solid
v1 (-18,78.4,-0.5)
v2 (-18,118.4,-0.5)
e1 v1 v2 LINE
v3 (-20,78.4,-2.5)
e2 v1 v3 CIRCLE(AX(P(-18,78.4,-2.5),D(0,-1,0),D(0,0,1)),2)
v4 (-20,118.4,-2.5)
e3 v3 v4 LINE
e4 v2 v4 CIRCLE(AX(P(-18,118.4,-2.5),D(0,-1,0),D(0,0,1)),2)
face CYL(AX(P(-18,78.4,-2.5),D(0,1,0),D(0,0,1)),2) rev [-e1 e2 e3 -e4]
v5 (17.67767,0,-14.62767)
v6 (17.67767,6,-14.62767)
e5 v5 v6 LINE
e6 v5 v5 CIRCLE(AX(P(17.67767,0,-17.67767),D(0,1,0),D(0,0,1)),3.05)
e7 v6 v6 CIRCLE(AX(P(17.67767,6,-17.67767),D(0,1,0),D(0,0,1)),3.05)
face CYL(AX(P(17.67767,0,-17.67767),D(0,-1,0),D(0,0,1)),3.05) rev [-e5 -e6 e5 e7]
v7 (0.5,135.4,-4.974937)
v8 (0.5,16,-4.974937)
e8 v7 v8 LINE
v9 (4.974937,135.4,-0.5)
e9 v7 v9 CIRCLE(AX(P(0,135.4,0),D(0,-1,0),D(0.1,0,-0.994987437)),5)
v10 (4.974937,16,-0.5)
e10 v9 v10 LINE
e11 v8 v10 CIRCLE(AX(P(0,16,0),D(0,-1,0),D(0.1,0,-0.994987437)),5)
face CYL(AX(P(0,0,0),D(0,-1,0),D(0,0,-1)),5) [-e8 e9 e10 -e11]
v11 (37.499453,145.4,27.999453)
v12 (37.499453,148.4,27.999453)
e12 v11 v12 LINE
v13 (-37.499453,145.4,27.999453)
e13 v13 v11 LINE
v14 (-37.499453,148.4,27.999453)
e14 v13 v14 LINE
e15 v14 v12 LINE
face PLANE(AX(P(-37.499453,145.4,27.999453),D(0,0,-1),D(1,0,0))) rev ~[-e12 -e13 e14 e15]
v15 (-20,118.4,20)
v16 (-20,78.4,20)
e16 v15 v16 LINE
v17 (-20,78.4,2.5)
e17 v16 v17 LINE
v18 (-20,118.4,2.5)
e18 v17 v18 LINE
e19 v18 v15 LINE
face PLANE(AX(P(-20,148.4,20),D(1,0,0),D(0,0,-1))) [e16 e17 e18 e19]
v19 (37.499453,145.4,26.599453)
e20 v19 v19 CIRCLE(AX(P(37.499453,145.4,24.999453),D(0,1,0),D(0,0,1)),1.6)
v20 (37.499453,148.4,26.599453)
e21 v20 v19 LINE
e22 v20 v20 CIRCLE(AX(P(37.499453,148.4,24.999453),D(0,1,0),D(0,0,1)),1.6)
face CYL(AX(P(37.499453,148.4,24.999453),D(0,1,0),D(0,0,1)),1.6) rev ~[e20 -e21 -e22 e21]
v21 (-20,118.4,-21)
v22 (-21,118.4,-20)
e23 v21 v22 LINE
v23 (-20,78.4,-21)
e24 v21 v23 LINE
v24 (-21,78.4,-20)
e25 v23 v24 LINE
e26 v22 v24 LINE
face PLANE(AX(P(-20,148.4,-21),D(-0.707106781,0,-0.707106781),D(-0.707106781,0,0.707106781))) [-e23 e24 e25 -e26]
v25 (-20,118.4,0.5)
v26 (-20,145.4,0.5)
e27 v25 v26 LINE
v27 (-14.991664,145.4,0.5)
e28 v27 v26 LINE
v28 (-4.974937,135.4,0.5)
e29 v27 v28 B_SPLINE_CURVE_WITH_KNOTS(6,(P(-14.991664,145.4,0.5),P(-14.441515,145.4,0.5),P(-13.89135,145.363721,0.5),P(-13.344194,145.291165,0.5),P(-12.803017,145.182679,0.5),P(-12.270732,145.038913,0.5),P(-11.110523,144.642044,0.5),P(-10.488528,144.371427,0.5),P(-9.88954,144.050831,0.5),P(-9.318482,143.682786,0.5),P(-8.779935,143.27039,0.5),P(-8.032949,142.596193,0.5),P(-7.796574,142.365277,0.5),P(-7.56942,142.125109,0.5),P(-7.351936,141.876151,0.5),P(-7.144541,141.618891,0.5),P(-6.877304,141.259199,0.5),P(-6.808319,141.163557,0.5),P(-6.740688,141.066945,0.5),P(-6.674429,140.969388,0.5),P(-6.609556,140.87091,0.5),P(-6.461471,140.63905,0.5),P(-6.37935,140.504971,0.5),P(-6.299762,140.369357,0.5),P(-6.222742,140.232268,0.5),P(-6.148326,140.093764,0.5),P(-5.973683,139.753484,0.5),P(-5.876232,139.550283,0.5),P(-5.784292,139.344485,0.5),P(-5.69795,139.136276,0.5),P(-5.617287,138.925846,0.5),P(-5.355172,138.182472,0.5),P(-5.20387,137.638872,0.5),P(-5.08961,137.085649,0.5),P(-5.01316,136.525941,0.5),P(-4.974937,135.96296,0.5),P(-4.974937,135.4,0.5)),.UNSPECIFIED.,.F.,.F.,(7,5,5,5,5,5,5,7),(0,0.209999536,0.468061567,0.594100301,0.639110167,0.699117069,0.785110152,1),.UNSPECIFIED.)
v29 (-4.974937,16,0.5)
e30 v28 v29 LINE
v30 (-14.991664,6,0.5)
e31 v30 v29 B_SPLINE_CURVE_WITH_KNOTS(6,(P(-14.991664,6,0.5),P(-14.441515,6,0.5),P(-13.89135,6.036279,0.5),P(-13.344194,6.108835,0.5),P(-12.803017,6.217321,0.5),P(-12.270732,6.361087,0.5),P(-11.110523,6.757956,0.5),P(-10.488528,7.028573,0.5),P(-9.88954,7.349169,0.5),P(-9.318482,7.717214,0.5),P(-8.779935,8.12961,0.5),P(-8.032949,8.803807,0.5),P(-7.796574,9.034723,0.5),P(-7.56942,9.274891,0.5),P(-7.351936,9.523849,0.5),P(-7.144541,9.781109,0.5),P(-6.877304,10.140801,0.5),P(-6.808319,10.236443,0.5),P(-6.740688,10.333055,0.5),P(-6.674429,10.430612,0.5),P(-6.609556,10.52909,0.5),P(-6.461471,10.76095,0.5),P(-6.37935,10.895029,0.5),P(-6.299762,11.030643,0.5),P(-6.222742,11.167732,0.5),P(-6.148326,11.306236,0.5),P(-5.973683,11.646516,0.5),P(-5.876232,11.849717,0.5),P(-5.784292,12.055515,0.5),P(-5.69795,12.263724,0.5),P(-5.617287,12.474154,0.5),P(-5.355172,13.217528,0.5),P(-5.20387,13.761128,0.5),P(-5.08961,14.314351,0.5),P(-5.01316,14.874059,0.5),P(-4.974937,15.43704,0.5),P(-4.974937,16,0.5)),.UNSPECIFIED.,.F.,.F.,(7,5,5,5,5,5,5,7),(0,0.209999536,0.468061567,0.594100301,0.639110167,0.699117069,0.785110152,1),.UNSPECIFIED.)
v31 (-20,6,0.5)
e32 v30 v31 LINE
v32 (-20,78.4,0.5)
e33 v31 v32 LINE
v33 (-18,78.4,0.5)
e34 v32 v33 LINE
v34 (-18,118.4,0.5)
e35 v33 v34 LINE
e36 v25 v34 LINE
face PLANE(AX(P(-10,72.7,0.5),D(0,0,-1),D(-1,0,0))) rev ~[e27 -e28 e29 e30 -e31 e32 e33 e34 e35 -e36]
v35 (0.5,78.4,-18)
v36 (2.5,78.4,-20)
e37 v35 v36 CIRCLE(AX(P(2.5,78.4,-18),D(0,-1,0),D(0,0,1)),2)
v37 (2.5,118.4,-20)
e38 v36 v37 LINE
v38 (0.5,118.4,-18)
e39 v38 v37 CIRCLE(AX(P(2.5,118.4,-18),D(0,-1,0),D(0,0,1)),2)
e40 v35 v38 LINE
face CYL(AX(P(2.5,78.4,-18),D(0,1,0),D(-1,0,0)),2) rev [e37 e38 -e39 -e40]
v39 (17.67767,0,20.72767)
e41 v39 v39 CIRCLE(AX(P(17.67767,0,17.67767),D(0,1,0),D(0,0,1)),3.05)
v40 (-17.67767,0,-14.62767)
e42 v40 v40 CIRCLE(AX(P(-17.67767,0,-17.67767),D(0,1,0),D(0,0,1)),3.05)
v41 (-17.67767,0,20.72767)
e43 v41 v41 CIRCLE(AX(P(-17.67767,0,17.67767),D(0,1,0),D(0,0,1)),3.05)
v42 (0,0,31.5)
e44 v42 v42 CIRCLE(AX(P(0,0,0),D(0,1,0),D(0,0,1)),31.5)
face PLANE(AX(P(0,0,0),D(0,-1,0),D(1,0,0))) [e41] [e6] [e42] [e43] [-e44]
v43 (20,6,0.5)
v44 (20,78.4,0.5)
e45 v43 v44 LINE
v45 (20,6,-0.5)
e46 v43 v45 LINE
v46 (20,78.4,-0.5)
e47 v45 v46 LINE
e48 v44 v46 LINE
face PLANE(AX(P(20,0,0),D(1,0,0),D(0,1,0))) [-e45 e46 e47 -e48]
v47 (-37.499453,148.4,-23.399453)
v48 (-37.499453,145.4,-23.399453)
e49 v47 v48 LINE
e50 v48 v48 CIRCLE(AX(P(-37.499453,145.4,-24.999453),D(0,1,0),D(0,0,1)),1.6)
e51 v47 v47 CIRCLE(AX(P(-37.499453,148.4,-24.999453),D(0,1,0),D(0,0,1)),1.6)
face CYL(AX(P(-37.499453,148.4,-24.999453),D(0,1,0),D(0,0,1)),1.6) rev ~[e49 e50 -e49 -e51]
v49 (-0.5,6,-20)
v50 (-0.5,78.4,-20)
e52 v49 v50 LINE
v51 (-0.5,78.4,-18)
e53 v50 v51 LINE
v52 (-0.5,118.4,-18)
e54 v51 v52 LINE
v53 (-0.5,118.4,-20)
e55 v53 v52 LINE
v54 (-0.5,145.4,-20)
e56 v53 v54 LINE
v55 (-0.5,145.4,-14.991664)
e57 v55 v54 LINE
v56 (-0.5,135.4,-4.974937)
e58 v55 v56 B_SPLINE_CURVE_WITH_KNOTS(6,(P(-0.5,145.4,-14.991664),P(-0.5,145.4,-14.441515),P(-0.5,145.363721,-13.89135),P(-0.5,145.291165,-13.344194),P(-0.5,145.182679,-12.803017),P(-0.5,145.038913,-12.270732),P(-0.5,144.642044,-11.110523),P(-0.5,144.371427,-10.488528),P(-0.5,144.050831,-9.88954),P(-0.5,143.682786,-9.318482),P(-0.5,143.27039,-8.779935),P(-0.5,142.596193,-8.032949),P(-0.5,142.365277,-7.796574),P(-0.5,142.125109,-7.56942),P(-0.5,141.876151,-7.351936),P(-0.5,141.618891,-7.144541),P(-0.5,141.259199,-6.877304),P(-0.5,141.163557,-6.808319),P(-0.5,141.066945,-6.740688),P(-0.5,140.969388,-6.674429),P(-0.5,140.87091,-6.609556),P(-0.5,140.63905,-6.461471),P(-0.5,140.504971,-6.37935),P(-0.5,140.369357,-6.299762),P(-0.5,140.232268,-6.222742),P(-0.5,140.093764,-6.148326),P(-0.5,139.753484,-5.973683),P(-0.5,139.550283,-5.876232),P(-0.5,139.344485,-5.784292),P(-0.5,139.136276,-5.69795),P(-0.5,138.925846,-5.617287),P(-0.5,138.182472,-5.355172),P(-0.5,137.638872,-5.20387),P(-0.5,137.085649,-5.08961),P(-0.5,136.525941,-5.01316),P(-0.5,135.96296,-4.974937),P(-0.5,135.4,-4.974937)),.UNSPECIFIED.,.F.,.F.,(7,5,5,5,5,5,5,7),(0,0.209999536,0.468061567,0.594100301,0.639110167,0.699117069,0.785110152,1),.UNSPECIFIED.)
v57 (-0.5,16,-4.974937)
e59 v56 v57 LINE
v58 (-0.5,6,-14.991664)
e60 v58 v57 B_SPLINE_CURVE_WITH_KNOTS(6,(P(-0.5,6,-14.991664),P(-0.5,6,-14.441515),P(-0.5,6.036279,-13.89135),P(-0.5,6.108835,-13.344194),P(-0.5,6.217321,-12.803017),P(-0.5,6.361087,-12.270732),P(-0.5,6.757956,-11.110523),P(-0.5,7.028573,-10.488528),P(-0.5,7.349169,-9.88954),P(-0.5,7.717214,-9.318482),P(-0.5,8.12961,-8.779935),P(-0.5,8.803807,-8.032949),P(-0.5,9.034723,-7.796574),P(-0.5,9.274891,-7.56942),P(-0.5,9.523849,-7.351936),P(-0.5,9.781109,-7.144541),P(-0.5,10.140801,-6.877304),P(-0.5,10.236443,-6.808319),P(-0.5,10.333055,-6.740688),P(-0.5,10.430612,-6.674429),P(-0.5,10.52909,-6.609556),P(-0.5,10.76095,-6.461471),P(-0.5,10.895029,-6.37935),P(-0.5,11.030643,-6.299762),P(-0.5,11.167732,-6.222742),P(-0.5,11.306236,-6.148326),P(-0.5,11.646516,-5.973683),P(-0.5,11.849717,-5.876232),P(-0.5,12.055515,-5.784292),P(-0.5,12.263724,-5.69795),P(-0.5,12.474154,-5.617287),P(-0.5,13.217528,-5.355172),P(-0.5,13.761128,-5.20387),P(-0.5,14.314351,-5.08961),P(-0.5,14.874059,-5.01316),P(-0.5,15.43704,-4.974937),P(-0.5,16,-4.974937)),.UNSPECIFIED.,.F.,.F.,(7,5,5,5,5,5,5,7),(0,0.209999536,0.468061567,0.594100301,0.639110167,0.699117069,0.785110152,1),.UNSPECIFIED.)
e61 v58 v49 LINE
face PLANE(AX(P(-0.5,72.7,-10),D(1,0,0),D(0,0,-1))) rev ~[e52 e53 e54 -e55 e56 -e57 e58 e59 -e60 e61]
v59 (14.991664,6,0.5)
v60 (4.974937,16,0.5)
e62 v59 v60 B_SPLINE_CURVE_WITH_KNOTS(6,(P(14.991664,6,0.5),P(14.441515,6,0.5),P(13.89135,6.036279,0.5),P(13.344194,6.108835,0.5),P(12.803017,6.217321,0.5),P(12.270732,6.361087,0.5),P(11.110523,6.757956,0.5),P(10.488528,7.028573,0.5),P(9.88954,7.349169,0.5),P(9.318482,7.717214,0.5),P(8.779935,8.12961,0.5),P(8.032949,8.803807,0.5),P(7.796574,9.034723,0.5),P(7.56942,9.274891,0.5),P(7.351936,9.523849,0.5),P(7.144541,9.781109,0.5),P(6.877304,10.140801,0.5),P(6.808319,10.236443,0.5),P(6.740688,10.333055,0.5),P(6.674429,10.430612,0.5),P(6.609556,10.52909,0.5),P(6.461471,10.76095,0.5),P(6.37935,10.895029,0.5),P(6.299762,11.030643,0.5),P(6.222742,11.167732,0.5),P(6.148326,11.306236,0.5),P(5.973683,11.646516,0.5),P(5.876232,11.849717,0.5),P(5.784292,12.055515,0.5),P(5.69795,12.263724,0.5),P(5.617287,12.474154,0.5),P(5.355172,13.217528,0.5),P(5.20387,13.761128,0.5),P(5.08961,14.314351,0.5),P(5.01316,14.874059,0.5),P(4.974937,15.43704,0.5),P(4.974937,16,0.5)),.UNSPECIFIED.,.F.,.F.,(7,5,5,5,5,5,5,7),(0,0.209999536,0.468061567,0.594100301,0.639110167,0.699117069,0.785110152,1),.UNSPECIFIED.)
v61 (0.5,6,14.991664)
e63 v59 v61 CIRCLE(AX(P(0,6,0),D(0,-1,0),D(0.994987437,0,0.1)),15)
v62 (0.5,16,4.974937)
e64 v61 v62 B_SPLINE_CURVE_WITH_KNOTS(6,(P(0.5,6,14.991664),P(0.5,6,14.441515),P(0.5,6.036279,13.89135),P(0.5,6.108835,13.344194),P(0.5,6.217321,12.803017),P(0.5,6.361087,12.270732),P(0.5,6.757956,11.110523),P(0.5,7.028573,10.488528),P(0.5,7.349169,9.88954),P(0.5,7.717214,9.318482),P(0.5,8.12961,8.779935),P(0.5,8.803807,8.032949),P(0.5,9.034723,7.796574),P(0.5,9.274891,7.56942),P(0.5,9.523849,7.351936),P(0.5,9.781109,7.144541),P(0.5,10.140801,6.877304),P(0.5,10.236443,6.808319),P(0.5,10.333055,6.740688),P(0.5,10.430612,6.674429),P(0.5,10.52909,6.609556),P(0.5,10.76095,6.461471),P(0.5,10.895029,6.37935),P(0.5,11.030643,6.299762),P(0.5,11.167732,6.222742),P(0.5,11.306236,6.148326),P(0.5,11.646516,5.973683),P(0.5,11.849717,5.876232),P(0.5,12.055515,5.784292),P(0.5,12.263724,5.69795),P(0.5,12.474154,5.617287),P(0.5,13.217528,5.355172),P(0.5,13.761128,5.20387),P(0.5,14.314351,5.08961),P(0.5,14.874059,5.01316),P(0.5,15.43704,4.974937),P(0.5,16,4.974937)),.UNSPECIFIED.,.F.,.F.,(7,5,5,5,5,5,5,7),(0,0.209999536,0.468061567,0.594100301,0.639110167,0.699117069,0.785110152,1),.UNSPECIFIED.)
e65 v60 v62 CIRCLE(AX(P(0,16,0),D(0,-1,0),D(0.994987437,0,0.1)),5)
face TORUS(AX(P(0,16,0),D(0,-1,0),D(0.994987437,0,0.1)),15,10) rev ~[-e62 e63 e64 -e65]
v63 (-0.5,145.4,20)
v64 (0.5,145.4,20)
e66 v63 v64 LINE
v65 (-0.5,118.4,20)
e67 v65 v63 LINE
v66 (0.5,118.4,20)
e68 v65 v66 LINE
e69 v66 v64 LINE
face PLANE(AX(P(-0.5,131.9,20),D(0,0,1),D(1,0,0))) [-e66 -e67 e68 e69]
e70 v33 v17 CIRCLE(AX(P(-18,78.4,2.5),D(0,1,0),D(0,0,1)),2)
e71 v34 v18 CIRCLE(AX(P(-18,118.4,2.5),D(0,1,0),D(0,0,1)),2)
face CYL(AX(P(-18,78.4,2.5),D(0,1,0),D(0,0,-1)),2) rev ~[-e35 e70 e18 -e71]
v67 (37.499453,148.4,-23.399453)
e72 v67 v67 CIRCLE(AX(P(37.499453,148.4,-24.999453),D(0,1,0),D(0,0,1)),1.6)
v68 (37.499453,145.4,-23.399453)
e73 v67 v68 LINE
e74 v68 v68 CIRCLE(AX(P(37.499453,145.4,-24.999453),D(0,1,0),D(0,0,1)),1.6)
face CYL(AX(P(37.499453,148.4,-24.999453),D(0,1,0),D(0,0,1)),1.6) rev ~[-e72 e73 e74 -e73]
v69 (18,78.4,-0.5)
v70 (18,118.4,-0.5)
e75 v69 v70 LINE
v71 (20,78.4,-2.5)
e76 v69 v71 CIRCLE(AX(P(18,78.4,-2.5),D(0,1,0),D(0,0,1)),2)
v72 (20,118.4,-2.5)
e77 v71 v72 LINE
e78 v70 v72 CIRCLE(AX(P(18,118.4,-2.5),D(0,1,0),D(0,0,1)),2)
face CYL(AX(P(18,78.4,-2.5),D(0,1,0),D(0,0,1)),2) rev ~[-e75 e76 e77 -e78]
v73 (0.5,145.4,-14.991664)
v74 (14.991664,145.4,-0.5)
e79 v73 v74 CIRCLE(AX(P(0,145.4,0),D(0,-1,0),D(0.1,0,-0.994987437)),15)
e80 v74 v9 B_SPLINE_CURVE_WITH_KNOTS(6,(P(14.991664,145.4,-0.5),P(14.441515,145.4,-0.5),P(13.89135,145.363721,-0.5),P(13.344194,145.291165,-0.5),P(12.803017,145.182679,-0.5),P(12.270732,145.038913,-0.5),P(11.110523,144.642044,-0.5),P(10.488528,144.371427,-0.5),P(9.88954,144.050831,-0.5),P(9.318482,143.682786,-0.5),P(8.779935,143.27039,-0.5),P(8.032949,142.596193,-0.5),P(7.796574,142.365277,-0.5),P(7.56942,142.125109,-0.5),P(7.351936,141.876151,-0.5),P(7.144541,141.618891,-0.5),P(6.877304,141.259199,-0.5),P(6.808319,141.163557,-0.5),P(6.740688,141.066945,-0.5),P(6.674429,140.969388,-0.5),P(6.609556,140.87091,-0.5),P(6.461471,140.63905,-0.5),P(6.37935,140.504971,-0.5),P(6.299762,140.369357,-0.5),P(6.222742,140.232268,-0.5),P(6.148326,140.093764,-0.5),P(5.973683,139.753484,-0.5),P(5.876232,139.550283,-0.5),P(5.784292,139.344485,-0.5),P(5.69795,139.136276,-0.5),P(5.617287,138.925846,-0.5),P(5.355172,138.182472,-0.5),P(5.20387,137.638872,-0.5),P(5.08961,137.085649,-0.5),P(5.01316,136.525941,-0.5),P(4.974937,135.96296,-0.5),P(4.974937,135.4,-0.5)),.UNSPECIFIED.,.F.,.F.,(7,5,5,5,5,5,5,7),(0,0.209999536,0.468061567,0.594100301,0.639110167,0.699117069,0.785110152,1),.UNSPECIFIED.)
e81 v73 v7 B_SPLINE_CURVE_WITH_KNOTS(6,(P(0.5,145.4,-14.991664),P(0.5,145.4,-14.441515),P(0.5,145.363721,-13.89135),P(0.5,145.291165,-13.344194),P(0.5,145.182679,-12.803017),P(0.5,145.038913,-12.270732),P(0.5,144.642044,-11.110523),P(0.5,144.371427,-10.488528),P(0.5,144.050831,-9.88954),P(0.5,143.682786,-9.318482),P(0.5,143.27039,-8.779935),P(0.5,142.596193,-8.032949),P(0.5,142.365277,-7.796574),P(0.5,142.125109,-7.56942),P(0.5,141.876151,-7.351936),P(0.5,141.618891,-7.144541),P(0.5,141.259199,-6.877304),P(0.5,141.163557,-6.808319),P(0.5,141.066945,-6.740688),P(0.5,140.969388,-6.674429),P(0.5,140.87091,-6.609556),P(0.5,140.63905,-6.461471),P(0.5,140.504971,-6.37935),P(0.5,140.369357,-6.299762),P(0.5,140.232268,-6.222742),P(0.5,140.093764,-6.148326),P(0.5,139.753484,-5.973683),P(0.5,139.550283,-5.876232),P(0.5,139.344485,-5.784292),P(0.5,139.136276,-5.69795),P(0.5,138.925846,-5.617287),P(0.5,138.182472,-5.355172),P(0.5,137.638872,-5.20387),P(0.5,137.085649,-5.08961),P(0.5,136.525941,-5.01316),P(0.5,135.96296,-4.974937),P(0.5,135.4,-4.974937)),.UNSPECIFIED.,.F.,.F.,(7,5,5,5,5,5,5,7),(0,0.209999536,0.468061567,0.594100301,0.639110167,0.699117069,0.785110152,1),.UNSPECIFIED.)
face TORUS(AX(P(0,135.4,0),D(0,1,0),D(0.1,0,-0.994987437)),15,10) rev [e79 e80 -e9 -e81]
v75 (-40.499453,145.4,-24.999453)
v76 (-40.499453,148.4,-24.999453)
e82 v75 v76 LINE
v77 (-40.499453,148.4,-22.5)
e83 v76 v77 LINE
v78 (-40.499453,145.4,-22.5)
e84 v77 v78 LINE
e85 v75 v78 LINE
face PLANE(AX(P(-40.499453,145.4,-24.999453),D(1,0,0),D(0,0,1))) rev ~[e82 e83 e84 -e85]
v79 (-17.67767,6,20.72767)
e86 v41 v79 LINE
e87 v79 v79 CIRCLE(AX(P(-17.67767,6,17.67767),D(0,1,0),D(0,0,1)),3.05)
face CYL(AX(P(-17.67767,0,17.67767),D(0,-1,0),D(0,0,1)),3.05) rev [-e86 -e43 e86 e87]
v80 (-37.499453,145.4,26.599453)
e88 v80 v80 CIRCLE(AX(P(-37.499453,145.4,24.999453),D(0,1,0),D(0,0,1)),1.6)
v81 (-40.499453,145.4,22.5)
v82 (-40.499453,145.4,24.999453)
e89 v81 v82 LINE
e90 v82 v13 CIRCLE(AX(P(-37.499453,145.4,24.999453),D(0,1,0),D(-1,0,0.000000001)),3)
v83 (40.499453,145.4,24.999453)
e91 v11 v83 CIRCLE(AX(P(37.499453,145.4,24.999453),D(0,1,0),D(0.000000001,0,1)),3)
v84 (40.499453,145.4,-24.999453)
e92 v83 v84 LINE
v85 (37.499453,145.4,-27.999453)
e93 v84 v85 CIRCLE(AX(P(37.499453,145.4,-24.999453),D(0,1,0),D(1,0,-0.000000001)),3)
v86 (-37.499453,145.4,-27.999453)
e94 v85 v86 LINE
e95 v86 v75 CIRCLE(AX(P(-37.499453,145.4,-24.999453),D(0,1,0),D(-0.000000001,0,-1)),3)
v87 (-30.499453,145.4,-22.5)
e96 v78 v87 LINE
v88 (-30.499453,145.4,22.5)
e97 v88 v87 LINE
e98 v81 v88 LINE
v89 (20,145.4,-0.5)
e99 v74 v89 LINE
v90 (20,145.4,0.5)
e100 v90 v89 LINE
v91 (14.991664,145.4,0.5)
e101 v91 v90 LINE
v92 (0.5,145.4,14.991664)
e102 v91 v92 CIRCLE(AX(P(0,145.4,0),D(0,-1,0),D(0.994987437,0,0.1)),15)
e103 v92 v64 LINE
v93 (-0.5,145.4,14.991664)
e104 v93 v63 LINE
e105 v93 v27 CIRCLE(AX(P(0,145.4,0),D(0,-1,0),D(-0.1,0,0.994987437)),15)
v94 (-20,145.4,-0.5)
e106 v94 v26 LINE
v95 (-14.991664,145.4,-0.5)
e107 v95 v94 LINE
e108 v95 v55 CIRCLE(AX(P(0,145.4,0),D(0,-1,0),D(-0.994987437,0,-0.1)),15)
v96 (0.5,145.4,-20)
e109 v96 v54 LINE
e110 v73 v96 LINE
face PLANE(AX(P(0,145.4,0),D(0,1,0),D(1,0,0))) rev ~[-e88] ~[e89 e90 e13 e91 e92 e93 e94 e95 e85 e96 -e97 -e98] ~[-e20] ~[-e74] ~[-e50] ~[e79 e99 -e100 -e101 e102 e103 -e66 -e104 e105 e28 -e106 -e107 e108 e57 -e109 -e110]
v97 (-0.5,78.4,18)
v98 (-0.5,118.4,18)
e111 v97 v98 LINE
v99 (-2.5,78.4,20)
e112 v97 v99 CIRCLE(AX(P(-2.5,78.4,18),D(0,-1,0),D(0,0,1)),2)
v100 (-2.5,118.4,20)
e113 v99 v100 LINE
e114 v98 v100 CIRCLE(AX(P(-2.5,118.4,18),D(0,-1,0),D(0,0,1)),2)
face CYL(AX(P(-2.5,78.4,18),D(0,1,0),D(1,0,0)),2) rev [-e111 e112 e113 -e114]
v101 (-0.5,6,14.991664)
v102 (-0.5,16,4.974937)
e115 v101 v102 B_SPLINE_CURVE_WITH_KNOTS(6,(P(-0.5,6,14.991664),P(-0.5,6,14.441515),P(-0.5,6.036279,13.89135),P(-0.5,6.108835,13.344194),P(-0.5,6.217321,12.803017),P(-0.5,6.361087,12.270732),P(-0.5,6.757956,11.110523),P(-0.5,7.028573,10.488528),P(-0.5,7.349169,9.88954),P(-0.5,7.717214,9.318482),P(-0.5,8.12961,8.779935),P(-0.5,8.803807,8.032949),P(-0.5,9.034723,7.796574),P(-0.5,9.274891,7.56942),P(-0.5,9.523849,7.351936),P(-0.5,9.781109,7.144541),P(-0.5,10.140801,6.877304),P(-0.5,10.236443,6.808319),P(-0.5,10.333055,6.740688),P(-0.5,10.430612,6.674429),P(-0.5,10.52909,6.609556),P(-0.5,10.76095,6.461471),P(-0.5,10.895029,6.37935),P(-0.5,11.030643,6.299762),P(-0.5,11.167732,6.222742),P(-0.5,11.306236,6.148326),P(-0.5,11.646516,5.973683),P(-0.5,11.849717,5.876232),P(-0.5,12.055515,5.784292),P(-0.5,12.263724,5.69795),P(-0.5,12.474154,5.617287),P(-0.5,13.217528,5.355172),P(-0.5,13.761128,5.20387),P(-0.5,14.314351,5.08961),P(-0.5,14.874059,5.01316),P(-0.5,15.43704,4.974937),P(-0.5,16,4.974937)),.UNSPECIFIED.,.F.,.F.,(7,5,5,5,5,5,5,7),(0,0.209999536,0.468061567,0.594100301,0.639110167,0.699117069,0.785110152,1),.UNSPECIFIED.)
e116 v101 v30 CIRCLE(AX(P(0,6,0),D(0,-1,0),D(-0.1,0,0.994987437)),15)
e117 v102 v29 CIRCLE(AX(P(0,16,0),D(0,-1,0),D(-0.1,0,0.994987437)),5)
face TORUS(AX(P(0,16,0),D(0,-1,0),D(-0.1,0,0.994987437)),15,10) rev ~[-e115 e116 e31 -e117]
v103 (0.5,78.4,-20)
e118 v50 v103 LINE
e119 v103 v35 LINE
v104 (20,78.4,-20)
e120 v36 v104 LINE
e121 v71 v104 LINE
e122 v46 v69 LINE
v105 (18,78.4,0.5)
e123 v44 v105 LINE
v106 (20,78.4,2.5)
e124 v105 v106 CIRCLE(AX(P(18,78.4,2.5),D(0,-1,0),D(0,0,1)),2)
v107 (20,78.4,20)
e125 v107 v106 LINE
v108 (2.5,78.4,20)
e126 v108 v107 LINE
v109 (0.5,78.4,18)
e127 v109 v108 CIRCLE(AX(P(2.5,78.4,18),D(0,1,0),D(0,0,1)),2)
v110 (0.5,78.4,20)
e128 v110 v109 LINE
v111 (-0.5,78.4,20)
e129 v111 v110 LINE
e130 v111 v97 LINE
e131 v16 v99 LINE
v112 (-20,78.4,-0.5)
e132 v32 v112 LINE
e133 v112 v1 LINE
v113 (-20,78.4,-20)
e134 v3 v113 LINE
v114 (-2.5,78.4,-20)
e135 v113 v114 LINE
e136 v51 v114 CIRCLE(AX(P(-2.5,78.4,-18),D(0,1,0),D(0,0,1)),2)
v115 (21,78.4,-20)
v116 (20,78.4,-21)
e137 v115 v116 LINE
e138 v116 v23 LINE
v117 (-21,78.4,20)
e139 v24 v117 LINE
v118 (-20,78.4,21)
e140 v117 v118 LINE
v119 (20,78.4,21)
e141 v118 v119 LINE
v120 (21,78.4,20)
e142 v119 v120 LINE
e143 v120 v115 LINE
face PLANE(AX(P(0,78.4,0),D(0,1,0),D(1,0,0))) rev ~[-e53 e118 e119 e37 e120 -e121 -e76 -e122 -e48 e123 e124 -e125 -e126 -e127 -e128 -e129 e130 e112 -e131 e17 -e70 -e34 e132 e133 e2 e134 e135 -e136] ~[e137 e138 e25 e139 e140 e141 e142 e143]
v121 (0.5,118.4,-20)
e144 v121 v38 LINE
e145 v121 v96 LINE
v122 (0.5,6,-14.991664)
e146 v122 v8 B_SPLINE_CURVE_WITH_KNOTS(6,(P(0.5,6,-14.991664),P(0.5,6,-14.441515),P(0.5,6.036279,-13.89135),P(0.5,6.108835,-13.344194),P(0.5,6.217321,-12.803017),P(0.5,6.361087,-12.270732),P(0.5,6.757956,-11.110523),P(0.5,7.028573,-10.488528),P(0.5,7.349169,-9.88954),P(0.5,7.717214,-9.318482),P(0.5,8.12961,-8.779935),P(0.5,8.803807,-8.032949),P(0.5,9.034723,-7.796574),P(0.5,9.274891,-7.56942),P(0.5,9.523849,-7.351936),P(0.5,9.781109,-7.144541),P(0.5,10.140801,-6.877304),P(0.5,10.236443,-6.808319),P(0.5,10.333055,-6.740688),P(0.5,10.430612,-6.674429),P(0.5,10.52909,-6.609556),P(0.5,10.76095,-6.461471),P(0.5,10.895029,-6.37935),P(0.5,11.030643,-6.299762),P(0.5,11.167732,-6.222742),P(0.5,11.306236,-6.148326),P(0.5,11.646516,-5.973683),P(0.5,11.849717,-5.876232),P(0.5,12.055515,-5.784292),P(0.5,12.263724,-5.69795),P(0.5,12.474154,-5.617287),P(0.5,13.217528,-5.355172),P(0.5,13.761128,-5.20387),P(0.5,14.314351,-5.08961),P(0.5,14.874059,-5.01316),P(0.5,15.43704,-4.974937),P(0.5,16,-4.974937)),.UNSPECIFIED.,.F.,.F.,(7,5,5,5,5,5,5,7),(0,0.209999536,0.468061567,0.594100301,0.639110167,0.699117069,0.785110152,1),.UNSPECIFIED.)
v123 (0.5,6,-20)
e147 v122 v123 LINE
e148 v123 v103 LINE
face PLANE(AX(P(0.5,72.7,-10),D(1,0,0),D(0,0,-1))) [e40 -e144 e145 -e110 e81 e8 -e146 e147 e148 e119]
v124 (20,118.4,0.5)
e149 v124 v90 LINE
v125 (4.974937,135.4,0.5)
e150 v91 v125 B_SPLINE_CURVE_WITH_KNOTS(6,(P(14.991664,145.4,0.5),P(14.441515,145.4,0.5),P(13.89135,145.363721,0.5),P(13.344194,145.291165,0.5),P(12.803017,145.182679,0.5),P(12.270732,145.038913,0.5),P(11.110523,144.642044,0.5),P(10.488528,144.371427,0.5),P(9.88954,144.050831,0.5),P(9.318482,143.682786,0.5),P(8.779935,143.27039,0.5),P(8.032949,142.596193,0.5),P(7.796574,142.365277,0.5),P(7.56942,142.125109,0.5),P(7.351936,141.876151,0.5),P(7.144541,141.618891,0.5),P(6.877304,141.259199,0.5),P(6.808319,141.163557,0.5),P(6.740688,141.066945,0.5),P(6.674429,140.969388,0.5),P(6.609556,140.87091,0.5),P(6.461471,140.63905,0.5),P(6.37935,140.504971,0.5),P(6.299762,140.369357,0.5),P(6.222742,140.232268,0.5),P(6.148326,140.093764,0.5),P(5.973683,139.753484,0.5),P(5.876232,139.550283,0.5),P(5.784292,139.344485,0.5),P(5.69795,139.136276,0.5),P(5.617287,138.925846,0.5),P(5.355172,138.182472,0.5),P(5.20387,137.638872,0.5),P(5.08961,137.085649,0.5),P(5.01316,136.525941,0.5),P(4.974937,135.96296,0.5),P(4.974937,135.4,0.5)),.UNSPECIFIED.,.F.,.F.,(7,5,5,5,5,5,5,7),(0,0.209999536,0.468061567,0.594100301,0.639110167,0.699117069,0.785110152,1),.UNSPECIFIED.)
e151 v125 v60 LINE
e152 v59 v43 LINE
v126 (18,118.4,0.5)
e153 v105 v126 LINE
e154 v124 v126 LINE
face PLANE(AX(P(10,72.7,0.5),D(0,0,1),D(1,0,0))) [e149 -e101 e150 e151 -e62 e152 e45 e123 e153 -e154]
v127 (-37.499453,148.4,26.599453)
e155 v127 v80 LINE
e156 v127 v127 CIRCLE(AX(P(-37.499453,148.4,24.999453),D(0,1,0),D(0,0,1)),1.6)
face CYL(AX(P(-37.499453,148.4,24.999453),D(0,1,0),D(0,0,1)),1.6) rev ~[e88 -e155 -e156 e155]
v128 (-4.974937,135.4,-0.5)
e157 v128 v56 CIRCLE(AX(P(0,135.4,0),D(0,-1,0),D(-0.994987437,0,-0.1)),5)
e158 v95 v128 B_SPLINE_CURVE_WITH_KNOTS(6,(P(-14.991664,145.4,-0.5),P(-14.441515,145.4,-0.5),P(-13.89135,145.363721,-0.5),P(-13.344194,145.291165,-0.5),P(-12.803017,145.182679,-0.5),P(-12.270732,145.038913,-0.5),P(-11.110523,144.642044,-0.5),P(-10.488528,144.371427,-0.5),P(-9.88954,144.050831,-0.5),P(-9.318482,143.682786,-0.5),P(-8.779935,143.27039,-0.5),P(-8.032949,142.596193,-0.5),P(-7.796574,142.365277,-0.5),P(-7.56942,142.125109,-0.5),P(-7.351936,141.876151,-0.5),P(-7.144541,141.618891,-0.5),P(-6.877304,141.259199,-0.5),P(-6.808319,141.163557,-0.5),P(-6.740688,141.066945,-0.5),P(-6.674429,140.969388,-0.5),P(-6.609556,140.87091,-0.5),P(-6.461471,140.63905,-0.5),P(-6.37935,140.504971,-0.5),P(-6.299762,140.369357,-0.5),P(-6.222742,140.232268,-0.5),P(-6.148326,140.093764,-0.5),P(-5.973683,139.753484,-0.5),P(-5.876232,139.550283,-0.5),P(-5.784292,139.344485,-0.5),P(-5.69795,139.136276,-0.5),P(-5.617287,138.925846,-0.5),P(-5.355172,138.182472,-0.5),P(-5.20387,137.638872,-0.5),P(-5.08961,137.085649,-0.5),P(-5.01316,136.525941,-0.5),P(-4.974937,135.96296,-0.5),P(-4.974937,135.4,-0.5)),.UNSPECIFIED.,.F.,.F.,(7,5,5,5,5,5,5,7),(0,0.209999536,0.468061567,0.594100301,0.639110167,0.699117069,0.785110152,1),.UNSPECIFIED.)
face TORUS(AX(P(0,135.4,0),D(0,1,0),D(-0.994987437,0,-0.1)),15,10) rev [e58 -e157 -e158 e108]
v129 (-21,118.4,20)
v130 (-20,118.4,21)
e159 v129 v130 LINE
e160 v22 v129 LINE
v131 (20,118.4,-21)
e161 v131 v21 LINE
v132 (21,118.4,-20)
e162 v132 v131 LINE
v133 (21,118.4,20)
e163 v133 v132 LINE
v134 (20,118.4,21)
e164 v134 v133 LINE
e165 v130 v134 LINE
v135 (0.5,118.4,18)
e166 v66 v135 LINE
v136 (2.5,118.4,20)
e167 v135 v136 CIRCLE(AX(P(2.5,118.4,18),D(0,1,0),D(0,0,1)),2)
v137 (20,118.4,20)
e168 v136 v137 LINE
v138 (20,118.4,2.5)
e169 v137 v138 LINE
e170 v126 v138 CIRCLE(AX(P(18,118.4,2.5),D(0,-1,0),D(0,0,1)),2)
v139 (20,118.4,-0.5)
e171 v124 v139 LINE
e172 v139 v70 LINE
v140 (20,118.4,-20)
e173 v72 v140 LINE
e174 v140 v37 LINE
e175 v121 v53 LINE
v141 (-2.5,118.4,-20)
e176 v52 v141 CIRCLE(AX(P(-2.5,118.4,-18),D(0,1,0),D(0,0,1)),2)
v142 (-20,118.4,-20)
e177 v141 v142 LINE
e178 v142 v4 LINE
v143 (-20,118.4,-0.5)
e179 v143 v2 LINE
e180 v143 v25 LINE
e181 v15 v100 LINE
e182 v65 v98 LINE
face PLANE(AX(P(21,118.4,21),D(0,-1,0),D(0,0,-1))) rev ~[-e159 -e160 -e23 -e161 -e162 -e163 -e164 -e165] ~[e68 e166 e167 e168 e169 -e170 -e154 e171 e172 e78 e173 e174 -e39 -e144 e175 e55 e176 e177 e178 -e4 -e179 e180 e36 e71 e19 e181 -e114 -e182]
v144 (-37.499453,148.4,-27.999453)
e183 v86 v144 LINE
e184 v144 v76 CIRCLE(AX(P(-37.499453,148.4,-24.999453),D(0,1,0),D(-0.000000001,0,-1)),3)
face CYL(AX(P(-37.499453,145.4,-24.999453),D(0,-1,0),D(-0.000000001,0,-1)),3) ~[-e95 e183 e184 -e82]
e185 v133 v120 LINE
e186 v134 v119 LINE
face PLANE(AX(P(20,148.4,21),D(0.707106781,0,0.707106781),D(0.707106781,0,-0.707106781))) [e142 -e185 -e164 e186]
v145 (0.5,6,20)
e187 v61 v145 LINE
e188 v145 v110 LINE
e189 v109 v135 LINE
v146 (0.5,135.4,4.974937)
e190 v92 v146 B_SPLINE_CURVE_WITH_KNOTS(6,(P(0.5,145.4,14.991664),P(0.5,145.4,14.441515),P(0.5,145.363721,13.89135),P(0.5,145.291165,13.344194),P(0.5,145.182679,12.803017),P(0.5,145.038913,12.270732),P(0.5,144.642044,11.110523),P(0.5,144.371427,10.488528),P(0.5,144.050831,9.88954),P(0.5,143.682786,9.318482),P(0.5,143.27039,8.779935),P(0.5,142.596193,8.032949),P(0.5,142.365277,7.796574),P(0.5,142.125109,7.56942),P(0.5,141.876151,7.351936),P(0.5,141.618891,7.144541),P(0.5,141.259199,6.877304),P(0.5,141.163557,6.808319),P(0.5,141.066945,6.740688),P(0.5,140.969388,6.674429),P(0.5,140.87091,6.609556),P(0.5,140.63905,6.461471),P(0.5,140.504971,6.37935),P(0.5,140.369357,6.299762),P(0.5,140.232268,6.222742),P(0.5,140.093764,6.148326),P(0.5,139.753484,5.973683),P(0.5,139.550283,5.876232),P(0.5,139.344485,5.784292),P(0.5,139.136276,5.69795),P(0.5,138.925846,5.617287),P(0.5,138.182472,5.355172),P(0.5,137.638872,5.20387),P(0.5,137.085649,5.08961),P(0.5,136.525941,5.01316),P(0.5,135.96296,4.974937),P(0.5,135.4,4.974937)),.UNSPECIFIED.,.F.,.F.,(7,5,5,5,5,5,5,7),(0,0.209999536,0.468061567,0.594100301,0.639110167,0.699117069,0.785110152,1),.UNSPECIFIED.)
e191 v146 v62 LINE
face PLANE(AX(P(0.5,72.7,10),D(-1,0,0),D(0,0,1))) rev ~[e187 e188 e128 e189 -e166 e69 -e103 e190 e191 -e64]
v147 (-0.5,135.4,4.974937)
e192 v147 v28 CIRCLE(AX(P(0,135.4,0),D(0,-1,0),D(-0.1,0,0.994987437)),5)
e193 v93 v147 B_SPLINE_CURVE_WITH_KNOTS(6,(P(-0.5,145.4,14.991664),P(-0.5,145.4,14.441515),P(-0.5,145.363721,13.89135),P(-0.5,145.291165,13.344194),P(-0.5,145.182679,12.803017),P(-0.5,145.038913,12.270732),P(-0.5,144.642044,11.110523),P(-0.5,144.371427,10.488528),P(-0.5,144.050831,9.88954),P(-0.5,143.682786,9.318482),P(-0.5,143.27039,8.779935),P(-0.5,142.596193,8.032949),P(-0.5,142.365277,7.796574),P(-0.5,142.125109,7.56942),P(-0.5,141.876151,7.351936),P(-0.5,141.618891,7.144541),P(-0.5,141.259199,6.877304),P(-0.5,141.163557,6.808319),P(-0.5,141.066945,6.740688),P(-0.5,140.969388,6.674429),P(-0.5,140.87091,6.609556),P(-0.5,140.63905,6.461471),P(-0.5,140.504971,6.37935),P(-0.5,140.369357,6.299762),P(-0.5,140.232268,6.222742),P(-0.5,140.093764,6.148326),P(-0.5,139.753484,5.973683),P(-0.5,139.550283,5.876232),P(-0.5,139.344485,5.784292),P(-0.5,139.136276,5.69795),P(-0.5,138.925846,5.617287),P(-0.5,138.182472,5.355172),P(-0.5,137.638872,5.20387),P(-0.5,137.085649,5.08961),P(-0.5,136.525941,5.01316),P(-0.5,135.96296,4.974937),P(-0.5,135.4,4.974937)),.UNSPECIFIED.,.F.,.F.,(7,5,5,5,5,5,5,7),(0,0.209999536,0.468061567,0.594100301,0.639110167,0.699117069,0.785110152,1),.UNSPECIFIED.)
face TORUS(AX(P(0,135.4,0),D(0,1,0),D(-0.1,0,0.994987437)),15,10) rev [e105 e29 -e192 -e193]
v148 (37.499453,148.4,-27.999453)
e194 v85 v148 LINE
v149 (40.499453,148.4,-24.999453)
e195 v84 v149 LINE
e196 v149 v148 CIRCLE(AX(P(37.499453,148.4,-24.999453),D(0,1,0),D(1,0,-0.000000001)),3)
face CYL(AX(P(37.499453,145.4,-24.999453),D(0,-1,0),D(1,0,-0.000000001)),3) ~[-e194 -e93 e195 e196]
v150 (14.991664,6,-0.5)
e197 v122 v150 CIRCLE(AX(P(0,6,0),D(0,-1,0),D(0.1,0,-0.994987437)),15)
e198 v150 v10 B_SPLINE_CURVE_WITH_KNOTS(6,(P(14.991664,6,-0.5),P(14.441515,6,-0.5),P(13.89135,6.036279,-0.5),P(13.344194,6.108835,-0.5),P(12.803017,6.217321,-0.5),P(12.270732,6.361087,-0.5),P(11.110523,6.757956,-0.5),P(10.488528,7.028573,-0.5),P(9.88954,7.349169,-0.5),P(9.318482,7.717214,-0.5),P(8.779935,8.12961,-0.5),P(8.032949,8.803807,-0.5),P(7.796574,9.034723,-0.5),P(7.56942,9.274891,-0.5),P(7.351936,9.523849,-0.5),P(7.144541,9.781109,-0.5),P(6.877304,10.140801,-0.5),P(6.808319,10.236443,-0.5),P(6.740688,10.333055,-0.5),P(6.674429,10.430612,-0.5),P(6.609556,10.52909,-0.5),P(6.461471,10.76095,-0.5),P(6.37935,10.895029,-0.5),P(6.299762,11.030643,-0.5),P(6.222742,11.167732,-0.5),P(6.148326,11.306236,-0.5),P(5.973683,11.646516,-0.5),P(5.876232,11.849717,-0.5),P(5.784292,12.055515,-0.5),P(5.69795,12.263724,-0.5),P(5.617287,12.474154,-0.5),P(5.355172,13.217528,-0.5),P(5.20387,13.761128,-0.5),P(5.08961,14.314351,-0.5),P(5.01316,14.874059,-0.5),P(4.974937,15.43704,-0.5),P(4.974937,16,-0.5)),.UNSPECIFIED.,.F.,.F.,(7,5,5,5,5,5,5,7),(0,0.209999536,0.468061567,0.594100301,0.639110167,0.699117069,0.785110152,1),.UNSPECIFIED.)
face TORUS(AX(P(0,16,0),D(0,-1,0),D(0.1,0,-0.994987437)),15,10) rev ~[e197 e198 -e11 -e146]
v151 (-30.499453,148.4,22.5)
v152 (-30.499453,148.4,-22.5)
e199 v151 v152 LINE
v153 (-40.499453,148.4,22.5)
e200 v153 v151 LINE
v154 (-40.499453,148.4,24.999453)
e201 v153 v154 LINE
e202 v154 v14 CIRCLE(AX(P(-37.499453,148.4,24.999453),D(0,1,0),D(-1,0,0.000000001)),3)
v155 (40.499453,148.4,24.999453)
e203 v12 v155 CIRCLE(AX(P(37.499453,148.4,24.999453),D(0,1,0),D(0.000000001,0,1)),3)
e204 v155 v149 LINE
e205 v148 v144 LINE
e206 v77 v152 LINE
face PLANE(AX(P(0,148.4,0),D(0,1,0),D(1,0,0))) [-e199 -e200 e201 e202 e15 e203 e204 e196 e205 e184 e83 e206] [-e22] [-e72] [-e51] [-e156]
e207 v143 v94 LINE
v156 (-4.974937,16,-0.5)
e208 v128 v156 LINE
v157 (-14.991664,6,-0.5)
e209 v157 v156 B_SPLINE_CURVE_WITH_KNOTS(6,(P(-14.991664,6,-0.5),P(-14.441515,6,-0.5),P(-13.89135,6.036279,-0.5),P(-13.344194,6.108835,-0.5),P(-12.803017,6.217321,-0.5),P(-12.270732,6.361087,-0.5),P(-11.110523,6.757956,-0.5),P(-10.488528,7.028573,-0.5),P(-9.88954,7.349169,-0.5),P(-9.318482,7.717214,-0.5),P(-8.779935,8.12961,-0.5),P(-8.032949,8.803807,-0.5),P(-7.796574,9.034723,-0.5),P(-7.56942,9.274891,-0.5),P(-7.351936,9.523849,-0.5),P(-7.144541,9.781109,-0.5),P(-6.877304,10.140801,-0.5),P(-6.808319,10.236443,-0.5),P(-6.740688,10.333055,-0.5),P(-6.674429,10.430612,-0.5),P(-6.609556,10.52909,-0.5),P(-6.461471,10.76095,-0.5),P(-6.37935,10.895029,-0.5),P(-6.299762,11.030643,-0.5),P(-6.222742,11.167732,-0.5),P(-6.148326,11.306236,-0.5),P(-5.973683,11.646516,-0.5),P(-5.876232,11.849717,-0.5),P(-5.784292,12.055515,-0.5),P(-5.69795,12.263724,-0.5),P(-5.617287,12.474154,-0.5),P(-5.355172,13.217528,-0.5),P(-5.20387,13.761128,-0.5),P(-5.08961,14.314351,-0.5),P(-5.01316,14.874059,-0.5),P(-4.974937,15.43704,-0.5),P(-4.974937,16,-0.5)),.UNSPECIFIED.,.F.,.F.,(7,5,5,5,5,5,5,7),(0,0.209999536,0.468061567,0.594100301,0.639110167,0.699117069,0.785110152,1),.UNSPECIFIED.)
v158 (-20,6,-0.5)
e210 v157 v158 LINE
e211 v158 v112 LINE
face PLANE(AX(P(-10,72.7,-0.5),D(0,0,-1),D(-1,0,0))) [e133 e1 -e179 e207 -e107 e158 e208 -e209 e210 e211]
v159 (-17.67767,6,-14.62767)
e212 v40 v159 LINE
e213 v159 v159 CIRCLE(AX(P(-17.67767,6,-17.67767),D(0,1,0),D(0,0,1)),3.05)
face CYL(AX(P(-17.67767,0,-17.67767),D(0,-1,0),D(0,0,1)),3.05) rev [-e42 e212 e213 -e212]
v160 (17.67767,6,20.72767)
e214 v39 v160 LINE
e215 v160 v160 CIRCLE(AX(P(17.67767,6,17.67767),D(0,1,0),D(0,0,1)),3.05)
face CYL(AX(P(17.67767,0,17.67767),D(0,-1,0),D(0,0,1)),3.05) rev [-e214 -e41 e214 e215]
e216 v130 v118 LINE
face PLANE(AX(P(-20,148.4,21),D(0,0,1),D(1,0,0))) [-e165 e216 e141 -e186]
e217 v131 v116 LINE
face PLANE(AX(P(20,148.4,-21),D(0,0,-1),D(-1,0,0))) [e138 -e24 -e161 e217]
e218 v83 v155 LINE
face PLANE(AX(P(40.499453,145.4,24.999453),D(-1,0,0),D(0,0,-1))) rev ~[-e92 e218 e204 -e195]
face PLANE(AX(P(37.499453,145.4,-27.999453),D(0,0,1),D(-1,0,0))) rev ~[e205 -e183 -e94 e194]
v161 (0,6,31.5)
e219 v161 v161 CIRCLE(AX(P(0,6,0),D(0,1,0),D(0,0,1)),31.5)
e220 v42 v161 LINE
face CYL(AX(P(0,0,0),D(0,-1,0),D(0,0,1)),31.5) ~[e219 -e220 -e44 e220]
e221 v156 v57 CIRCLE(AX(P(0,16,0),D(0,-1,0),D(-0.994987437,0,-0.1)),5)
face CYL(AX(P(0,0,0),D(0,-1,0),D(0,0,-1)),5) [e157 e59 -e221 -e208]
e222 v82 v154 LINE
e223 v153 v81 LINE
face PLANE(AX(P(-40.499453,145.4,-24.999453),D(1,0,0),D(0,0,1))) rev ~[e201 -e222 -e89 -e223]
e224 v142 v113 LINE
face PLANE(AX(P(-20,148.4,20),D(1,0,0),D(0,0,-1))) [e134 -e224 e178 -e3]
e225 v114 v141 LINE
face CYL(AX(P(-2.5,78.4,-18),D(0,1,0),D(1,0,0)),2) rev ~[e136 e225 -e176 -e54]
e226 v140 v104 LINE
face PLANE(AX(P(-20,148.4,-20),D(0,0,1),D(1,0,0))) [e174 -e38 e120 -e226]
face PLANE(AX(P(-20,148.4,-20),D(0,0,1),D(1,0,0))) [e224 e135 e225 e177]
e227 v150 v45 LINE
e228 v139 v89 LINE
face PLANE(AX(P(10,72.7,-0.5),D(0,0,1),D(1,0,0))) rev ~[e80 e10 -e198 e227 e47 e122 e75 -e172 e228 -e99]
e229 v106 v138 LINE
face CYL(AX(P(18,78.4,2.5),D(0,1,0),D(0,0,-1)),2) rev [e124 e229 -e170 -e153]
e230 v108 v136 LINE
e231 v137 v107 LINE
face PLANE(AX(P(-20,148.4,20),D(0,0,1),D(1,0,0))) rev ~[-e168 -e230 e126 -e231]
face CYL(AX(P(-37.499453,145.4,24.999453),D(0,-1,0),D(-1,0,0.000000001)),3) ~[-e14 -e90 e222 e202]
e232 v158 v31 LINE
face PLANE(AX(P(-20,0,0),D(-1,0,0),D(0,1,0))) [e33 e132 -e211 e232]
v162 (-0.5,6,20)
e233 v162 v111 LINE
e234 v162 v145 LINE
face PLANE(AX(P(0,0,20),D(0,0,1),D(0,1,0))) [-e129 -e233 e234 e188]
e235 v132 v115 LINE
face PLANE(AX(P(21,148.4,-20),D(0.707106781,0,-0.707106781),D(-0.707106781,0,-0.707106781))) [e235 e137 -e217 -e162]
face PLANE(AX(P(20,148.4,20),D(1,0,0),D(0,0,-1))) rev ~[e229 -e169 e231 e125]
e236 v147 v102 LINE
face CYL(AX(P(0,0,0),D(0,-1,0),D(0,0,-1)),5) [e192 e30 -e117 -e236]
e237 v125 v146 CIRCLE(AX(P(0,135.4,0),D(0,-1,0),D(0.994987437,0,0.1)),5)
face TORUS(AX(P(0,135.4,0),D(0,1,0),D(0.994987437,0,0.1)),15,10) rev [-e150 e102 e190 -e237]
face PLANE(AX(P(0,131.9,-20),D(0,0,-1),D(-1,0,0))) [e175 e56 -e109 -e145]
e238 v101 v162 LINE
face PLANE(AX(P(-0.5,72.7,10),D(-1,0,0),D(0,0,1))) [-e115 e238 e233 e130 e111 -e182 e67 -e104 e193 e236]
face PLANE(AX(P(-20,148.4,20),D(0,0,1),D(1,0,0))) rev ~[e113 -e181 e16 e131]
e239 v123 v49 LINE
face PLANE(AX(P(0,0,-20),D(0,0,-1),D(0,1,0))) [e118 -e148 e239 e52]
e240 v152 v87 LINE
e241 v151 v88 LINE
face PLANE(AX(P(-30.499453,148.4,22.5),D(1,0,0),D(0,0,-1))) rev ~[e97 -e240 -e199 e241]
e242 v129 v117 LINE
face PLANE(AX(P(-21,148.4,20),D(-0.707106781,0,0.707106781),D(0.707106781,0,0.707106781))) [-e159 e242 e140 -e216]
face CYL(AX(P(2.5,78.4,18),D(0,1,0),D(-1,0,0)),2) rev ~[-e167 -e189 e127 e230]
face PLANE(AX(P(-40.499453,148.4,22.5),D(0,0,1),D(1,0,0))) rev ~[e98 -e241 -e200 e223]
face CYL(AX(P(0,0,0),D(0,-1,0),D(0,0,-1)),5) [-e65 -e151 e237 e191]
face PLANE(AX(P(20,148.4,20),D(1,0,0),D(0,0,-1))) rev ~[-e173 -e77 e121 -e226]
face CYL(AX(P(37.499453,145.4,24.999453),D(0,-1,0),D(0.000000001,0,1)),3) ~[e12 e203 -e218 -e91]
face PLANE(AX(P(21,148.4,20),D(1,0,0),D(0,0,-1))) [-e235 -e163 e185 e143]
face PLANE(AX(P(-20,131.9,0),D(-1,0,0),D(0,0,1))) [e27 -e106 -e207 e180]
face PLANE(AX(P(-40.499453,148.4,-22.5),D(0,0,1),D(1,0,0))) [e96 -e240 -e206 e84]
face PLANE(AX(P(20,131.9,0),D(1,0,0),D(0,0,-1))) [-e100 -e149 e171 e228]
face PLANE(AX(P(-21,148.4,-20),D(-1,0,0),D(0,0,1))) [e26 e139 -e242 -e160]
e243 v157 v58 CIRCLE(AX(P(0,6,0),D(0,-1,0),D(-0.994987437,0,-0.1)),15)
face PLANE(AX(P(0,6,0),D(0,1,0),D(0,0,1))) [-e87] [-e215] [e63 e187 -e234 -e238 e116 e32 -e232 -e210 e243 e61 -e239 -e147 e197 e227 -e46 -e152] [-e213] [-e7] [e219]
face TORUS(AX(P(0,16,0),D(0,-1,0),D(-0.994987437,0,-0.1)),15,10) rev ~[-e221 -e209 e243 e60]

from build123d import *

# Parameters (mm, degrees)
SKETCH_1_R               = 31.5
SKETCH_1_R_2             = 3.05
EXTRUDE_3_DEPTH          = 6
SKETCH_4_R               = 5
EXTRUDE_5_DEPTH          = 145.4
SKETCH_8_W               = 20
SKETCH_8_H               = 145.4
EXTRUDE_8_DEPTH          = 0.5
PATTERN_CIRCULAR_1_COUNT = 4
FILLET_1_R               = 10
EXTRUDE_10_DEPTH         = 3
SKETCH_11_R              = 1.6
CUT_EXTRUDE_1_DEPTH      = 3
SKETCH_12_W              = 10
SKETCH_12_H              = 45
CUT_EXTRUDE_2_DEPTH      = 3
FILLET_3_R               = 10
SKETCH_18_W              = 40
SKETCH_18_H              = 40
EXTRUDE_18_DEPTH         = 70
SKETCH_19_W              = 42
SKETCH_19_H              = 27
CUT_EXTRUDE_3_DEPTH      = 1
SKETCH_20_W              = 42
SKETCH_20_H              = 27
CUT_EXTRUDE_4_DEPTH      = 1
SKETCH_21_W              = 42
SKETCH_21_H              = 27
CUT_EXTRUDE_5_DEPTH      = 1
SKETCH_22_W              = 41
SKETCH_22_H              = 27
CUT_EXTRUDE_6_DEPTH      = 1
FILLET_4_R               = 2


with BuildPart() as part:
    # 草图1 → 凸台-拉伸3 (new body)
    with BuildSketch(Plane(origin=(0, 0, 0), x_dir=(1, 0, 0), z_dir=(0, 1, 0))):
        with Locations(Location((0, 0, 0), (0, 0, 270))):
            Circle(SKETCH_1_R)
        with Locations(Location((-17.67766953, 17.67766953, 0), (0, 0, 270))):
            Circle(SKETCH_1_R_2, mode=Mode.SUBTRACT)
        with Locations(Location((17.67766953, 17.67766953, 0), (0, 0, 270))):
            Circle(SKETCH_1_R_2, mode=Mode.SUBTRACT)
        with Locations(Location((-17.67766953, -17.67766953, 0), (0, 0, 270))):
            Circle(SKETCH_1_R_2, mode=Mode.SUBTRACT)
        with Locations(Location((17.67766953, -17.67766953, 0), (0, 0, 270))):
            Circle(SKETCH_1_R_2, mode=Mode.SUBTRACT)
    extrude(amount=EXTRUDE_3_DEPTH)

    # 草图4 → 凸台-拉伸5 (add)
    with BuildSketch(Plane.XZ):
        with Locations(Location((0, 0, 0), (0, 0, 270))):
            Circle(SKETCH_4_R)
    extrude(amount=-EXTRUDE_5_DEPTH)

    # 草图8 → 凸台-拉伸8 (add, symmetric)
    with BuildSketch(Plane(origin=(0, 0, 0), x_dir=(0, 0, -1), z_dir=(1, 0, 0))):
        with Locations((10, 72.7)):
            Rectangle(SKETCH_8_W, SKETCH_8_H)
    extrude_8 = extrude(amount=EXTRUDE_8_DEPTH, both=True)

    # 阵列(圆周)1: 凸台-拉伸8 ×4 about axis
    pattern_circular_1_axis = Axis((0, 0, 0), (0, 1, 0))
    for i in range(1, PATTERN_CIRCULAR_1_COUNT):
        add(extrude_8.rotate(pattern_circular_1_axis, i * 360 / PATTERN_CIRCULAR_1_COUNT))

    # 圆角1
    fillet_1_edges = [part.edges().sort_by_distance(p)[0] for p in [
        (-3.535533906, 6, -3.535533906),
        (-3.535533906, 6, 3.535533906),
        (3.535533906, 6, 3.535533906),
        (3.535533906, 6, -3.535533906),
    ]]
    fillet(fillet_1_edges, radius=FILLET_1_R)

    # 草图10 → 凸台-拉伸10 (add)
    with BuildSketch(Plane(origin=(0, 145.4, 0), x_dir=(1, 0, 0), z_dir=(0, 1, 0))):
        with BuildLine():
            Line((-37.499452899, -27.999452899), (37.499452899, -27.999452899))
            ThreePointArc((37.499452899, -27.999452899), (39.620773242, -27.120773242), (40.499452899, -24.999452899))
            Line((40.499452899, -24.999452899), (40.499452899, 24.999452899))
            ThreePointArc((40.499452899, 24.999452899), (39.620773242, 27.120773242), (37.499452899, 27.999452899))
            Line((37.499452899, 27.999452899), (-37.499452899, 27.999452899))
            ThreePointArc((-37.499452899, 27.999452899), (-39.620773242, 27.120773242), (-40.499452899, 24.999452899))
            Line((-40.499452899, 24.999452899), (-40.499452899, -24.999452899))
            ThreePointArc((-40.499452899, -24.999452899), (-39.620773242, -27.120773242), (-37.499452899, -27.999452899))
        make_face()
    extrude(amount=EXTRUDE_10_DEPTH)

    # 草图11 → 切除-拉伸1 (cut)
    with BuildSketch(Plane(origin=(0, 148.4, 0), x_dir=(1, 0, 0), z_dir=(0, 1, 0))):
        with Locations(Location((-37.499452899, 24.999452899, 0), (0, 0, 270))):
            Circle(SKETCH_11_R)
        with Locations(Location((-37.499452899, -24.999452899, 0), (0, 0, 270))):
            Circle(SKETCH_11_R)
        with Locations(Location((37.499452899, 24.999452899, 0), (0, 0, 270))):
            Circle(SKETCH_11_R)
        with Locations(Location((37.499452899, -24.999452899, 0), (0, 0, 270))):
            Circle(SKETCH_11_R)
    extrude(amount=-CUT_EXTRUDE_1_DEPTH, mode=Mode.SUBTRACT)

    # 草图12 → 切除-拉伸2 (cut)
    with BuildSketch(Plane(origin=(0, 148.4, 0), x_dir=(1, 0, 0), z_dir=(0, 1, 0))):
        with Locations((-35.499452899, 0)):
            Rectangle(SKETCH_12_W, SKETCH_12_H)
    extrude(amount=-CUT_EXTRUDE_2_DEPTH, mode=Mode.SUBTRACT)

    # 圆角3
    fillet_3_edges = [part.edges().sort_by_distance(p)[0] for p in [
        (3.535533906, 145.4, -3.535533906),
        (3.535533906, 145.4, 3.535533906),
        (-3.535533906, 145.4, 3.535533906),
        (-3.535533906, 145.4, -3.535533906),
    ]]
    fillet(fillet_3_edges, radius=FILLET_3_R)

    # 草图18 → 凸台-拉伸18 (add)
    with BuildSketch(Plane(origin=(0, 148.4, 0), x_dir=(1, 0, 0), z_dir=(0, 1, 0))):
        Polygon((-20, 21), (-21, 20), (-21, -20), (-20, -21), (20, -21), (21, -20), (21, 20), (20, 21), align=None)
        Rectangle(SKETCH_18_W, SKETCH_18_H, mode=Mode.SUBTRACT)
    extrude(amount=-EXTRUDE_18_DEPTH)

    # 草图19 → 切除-拉伸3 (cut)
    with BuildSketch(Plane(origin=(21, 0, 0), x_dir=(0, 0, -1), z_dir=(1, 0, 0))):
        with Locations((0, 131.9)):
            Rectangle(SKETCH_19_W, SKETCH_19_H)
    extrude(amount=-CUT_EXTRUDE_3_DEPTH, mode=Mode.SUBTRACT)

    # 草图20 → 切除-拉伸4 (cut)
    with BuildSketch(Plane(origin=(0, 0, -21), x_dir=(-1, 0, 0), z_dir=(0, 0, -1))):
        with Locations((0, 131.9)):
            Rectangle(SKETCH_20_W, SKETCH_20_H)
    extrude(amount=-CUT_EXTRUDE_4_DEPTH, mode=Mode.SUBTRACT)

    # 草图21 → 切除-拉伸5 (cut)
    with BuildSketch(Plane.ZY.offset(21)):
        with Locations((0, 131.9)):
            Rectangle(SKETCH_21_W, SKETCH_21_H)
    extrude(amount=-CUT_EXTRUDE_5_DEPTH, mode=Mode.SUBTRACT)

    # 草图22 → 切除-拉伸6 (cut)
    with BuildSketch(Plane.XY.offset(21)):
        with Locations((-0.5, 131.9)):
            Rectangle(SKETCH_22_W, SKETCH_22_H)
    extrude(amount=-CUT_EXTRUDE_6_DEPTH, mode=Mode.SUBTRACT)

    # 圆角4
    fillet_4_edges = [part.edges().sort_by_distance(p)[0] for p in [
        (20, 98.4, -0.5),
        (20, 98.4, 0.5),
        (0.5, 98.4, -20),
        (-0.5, 98.4, -20),
        (-20, 98.4, -0.5),
        (-20, 98.4, 0.5),
        (-0.5, 98.4, 20),
        (0.5, 98.4, 20),
    ]]
    fillet(fillet_4_edges, radius=FILLET_4_R)


solid = part.part
